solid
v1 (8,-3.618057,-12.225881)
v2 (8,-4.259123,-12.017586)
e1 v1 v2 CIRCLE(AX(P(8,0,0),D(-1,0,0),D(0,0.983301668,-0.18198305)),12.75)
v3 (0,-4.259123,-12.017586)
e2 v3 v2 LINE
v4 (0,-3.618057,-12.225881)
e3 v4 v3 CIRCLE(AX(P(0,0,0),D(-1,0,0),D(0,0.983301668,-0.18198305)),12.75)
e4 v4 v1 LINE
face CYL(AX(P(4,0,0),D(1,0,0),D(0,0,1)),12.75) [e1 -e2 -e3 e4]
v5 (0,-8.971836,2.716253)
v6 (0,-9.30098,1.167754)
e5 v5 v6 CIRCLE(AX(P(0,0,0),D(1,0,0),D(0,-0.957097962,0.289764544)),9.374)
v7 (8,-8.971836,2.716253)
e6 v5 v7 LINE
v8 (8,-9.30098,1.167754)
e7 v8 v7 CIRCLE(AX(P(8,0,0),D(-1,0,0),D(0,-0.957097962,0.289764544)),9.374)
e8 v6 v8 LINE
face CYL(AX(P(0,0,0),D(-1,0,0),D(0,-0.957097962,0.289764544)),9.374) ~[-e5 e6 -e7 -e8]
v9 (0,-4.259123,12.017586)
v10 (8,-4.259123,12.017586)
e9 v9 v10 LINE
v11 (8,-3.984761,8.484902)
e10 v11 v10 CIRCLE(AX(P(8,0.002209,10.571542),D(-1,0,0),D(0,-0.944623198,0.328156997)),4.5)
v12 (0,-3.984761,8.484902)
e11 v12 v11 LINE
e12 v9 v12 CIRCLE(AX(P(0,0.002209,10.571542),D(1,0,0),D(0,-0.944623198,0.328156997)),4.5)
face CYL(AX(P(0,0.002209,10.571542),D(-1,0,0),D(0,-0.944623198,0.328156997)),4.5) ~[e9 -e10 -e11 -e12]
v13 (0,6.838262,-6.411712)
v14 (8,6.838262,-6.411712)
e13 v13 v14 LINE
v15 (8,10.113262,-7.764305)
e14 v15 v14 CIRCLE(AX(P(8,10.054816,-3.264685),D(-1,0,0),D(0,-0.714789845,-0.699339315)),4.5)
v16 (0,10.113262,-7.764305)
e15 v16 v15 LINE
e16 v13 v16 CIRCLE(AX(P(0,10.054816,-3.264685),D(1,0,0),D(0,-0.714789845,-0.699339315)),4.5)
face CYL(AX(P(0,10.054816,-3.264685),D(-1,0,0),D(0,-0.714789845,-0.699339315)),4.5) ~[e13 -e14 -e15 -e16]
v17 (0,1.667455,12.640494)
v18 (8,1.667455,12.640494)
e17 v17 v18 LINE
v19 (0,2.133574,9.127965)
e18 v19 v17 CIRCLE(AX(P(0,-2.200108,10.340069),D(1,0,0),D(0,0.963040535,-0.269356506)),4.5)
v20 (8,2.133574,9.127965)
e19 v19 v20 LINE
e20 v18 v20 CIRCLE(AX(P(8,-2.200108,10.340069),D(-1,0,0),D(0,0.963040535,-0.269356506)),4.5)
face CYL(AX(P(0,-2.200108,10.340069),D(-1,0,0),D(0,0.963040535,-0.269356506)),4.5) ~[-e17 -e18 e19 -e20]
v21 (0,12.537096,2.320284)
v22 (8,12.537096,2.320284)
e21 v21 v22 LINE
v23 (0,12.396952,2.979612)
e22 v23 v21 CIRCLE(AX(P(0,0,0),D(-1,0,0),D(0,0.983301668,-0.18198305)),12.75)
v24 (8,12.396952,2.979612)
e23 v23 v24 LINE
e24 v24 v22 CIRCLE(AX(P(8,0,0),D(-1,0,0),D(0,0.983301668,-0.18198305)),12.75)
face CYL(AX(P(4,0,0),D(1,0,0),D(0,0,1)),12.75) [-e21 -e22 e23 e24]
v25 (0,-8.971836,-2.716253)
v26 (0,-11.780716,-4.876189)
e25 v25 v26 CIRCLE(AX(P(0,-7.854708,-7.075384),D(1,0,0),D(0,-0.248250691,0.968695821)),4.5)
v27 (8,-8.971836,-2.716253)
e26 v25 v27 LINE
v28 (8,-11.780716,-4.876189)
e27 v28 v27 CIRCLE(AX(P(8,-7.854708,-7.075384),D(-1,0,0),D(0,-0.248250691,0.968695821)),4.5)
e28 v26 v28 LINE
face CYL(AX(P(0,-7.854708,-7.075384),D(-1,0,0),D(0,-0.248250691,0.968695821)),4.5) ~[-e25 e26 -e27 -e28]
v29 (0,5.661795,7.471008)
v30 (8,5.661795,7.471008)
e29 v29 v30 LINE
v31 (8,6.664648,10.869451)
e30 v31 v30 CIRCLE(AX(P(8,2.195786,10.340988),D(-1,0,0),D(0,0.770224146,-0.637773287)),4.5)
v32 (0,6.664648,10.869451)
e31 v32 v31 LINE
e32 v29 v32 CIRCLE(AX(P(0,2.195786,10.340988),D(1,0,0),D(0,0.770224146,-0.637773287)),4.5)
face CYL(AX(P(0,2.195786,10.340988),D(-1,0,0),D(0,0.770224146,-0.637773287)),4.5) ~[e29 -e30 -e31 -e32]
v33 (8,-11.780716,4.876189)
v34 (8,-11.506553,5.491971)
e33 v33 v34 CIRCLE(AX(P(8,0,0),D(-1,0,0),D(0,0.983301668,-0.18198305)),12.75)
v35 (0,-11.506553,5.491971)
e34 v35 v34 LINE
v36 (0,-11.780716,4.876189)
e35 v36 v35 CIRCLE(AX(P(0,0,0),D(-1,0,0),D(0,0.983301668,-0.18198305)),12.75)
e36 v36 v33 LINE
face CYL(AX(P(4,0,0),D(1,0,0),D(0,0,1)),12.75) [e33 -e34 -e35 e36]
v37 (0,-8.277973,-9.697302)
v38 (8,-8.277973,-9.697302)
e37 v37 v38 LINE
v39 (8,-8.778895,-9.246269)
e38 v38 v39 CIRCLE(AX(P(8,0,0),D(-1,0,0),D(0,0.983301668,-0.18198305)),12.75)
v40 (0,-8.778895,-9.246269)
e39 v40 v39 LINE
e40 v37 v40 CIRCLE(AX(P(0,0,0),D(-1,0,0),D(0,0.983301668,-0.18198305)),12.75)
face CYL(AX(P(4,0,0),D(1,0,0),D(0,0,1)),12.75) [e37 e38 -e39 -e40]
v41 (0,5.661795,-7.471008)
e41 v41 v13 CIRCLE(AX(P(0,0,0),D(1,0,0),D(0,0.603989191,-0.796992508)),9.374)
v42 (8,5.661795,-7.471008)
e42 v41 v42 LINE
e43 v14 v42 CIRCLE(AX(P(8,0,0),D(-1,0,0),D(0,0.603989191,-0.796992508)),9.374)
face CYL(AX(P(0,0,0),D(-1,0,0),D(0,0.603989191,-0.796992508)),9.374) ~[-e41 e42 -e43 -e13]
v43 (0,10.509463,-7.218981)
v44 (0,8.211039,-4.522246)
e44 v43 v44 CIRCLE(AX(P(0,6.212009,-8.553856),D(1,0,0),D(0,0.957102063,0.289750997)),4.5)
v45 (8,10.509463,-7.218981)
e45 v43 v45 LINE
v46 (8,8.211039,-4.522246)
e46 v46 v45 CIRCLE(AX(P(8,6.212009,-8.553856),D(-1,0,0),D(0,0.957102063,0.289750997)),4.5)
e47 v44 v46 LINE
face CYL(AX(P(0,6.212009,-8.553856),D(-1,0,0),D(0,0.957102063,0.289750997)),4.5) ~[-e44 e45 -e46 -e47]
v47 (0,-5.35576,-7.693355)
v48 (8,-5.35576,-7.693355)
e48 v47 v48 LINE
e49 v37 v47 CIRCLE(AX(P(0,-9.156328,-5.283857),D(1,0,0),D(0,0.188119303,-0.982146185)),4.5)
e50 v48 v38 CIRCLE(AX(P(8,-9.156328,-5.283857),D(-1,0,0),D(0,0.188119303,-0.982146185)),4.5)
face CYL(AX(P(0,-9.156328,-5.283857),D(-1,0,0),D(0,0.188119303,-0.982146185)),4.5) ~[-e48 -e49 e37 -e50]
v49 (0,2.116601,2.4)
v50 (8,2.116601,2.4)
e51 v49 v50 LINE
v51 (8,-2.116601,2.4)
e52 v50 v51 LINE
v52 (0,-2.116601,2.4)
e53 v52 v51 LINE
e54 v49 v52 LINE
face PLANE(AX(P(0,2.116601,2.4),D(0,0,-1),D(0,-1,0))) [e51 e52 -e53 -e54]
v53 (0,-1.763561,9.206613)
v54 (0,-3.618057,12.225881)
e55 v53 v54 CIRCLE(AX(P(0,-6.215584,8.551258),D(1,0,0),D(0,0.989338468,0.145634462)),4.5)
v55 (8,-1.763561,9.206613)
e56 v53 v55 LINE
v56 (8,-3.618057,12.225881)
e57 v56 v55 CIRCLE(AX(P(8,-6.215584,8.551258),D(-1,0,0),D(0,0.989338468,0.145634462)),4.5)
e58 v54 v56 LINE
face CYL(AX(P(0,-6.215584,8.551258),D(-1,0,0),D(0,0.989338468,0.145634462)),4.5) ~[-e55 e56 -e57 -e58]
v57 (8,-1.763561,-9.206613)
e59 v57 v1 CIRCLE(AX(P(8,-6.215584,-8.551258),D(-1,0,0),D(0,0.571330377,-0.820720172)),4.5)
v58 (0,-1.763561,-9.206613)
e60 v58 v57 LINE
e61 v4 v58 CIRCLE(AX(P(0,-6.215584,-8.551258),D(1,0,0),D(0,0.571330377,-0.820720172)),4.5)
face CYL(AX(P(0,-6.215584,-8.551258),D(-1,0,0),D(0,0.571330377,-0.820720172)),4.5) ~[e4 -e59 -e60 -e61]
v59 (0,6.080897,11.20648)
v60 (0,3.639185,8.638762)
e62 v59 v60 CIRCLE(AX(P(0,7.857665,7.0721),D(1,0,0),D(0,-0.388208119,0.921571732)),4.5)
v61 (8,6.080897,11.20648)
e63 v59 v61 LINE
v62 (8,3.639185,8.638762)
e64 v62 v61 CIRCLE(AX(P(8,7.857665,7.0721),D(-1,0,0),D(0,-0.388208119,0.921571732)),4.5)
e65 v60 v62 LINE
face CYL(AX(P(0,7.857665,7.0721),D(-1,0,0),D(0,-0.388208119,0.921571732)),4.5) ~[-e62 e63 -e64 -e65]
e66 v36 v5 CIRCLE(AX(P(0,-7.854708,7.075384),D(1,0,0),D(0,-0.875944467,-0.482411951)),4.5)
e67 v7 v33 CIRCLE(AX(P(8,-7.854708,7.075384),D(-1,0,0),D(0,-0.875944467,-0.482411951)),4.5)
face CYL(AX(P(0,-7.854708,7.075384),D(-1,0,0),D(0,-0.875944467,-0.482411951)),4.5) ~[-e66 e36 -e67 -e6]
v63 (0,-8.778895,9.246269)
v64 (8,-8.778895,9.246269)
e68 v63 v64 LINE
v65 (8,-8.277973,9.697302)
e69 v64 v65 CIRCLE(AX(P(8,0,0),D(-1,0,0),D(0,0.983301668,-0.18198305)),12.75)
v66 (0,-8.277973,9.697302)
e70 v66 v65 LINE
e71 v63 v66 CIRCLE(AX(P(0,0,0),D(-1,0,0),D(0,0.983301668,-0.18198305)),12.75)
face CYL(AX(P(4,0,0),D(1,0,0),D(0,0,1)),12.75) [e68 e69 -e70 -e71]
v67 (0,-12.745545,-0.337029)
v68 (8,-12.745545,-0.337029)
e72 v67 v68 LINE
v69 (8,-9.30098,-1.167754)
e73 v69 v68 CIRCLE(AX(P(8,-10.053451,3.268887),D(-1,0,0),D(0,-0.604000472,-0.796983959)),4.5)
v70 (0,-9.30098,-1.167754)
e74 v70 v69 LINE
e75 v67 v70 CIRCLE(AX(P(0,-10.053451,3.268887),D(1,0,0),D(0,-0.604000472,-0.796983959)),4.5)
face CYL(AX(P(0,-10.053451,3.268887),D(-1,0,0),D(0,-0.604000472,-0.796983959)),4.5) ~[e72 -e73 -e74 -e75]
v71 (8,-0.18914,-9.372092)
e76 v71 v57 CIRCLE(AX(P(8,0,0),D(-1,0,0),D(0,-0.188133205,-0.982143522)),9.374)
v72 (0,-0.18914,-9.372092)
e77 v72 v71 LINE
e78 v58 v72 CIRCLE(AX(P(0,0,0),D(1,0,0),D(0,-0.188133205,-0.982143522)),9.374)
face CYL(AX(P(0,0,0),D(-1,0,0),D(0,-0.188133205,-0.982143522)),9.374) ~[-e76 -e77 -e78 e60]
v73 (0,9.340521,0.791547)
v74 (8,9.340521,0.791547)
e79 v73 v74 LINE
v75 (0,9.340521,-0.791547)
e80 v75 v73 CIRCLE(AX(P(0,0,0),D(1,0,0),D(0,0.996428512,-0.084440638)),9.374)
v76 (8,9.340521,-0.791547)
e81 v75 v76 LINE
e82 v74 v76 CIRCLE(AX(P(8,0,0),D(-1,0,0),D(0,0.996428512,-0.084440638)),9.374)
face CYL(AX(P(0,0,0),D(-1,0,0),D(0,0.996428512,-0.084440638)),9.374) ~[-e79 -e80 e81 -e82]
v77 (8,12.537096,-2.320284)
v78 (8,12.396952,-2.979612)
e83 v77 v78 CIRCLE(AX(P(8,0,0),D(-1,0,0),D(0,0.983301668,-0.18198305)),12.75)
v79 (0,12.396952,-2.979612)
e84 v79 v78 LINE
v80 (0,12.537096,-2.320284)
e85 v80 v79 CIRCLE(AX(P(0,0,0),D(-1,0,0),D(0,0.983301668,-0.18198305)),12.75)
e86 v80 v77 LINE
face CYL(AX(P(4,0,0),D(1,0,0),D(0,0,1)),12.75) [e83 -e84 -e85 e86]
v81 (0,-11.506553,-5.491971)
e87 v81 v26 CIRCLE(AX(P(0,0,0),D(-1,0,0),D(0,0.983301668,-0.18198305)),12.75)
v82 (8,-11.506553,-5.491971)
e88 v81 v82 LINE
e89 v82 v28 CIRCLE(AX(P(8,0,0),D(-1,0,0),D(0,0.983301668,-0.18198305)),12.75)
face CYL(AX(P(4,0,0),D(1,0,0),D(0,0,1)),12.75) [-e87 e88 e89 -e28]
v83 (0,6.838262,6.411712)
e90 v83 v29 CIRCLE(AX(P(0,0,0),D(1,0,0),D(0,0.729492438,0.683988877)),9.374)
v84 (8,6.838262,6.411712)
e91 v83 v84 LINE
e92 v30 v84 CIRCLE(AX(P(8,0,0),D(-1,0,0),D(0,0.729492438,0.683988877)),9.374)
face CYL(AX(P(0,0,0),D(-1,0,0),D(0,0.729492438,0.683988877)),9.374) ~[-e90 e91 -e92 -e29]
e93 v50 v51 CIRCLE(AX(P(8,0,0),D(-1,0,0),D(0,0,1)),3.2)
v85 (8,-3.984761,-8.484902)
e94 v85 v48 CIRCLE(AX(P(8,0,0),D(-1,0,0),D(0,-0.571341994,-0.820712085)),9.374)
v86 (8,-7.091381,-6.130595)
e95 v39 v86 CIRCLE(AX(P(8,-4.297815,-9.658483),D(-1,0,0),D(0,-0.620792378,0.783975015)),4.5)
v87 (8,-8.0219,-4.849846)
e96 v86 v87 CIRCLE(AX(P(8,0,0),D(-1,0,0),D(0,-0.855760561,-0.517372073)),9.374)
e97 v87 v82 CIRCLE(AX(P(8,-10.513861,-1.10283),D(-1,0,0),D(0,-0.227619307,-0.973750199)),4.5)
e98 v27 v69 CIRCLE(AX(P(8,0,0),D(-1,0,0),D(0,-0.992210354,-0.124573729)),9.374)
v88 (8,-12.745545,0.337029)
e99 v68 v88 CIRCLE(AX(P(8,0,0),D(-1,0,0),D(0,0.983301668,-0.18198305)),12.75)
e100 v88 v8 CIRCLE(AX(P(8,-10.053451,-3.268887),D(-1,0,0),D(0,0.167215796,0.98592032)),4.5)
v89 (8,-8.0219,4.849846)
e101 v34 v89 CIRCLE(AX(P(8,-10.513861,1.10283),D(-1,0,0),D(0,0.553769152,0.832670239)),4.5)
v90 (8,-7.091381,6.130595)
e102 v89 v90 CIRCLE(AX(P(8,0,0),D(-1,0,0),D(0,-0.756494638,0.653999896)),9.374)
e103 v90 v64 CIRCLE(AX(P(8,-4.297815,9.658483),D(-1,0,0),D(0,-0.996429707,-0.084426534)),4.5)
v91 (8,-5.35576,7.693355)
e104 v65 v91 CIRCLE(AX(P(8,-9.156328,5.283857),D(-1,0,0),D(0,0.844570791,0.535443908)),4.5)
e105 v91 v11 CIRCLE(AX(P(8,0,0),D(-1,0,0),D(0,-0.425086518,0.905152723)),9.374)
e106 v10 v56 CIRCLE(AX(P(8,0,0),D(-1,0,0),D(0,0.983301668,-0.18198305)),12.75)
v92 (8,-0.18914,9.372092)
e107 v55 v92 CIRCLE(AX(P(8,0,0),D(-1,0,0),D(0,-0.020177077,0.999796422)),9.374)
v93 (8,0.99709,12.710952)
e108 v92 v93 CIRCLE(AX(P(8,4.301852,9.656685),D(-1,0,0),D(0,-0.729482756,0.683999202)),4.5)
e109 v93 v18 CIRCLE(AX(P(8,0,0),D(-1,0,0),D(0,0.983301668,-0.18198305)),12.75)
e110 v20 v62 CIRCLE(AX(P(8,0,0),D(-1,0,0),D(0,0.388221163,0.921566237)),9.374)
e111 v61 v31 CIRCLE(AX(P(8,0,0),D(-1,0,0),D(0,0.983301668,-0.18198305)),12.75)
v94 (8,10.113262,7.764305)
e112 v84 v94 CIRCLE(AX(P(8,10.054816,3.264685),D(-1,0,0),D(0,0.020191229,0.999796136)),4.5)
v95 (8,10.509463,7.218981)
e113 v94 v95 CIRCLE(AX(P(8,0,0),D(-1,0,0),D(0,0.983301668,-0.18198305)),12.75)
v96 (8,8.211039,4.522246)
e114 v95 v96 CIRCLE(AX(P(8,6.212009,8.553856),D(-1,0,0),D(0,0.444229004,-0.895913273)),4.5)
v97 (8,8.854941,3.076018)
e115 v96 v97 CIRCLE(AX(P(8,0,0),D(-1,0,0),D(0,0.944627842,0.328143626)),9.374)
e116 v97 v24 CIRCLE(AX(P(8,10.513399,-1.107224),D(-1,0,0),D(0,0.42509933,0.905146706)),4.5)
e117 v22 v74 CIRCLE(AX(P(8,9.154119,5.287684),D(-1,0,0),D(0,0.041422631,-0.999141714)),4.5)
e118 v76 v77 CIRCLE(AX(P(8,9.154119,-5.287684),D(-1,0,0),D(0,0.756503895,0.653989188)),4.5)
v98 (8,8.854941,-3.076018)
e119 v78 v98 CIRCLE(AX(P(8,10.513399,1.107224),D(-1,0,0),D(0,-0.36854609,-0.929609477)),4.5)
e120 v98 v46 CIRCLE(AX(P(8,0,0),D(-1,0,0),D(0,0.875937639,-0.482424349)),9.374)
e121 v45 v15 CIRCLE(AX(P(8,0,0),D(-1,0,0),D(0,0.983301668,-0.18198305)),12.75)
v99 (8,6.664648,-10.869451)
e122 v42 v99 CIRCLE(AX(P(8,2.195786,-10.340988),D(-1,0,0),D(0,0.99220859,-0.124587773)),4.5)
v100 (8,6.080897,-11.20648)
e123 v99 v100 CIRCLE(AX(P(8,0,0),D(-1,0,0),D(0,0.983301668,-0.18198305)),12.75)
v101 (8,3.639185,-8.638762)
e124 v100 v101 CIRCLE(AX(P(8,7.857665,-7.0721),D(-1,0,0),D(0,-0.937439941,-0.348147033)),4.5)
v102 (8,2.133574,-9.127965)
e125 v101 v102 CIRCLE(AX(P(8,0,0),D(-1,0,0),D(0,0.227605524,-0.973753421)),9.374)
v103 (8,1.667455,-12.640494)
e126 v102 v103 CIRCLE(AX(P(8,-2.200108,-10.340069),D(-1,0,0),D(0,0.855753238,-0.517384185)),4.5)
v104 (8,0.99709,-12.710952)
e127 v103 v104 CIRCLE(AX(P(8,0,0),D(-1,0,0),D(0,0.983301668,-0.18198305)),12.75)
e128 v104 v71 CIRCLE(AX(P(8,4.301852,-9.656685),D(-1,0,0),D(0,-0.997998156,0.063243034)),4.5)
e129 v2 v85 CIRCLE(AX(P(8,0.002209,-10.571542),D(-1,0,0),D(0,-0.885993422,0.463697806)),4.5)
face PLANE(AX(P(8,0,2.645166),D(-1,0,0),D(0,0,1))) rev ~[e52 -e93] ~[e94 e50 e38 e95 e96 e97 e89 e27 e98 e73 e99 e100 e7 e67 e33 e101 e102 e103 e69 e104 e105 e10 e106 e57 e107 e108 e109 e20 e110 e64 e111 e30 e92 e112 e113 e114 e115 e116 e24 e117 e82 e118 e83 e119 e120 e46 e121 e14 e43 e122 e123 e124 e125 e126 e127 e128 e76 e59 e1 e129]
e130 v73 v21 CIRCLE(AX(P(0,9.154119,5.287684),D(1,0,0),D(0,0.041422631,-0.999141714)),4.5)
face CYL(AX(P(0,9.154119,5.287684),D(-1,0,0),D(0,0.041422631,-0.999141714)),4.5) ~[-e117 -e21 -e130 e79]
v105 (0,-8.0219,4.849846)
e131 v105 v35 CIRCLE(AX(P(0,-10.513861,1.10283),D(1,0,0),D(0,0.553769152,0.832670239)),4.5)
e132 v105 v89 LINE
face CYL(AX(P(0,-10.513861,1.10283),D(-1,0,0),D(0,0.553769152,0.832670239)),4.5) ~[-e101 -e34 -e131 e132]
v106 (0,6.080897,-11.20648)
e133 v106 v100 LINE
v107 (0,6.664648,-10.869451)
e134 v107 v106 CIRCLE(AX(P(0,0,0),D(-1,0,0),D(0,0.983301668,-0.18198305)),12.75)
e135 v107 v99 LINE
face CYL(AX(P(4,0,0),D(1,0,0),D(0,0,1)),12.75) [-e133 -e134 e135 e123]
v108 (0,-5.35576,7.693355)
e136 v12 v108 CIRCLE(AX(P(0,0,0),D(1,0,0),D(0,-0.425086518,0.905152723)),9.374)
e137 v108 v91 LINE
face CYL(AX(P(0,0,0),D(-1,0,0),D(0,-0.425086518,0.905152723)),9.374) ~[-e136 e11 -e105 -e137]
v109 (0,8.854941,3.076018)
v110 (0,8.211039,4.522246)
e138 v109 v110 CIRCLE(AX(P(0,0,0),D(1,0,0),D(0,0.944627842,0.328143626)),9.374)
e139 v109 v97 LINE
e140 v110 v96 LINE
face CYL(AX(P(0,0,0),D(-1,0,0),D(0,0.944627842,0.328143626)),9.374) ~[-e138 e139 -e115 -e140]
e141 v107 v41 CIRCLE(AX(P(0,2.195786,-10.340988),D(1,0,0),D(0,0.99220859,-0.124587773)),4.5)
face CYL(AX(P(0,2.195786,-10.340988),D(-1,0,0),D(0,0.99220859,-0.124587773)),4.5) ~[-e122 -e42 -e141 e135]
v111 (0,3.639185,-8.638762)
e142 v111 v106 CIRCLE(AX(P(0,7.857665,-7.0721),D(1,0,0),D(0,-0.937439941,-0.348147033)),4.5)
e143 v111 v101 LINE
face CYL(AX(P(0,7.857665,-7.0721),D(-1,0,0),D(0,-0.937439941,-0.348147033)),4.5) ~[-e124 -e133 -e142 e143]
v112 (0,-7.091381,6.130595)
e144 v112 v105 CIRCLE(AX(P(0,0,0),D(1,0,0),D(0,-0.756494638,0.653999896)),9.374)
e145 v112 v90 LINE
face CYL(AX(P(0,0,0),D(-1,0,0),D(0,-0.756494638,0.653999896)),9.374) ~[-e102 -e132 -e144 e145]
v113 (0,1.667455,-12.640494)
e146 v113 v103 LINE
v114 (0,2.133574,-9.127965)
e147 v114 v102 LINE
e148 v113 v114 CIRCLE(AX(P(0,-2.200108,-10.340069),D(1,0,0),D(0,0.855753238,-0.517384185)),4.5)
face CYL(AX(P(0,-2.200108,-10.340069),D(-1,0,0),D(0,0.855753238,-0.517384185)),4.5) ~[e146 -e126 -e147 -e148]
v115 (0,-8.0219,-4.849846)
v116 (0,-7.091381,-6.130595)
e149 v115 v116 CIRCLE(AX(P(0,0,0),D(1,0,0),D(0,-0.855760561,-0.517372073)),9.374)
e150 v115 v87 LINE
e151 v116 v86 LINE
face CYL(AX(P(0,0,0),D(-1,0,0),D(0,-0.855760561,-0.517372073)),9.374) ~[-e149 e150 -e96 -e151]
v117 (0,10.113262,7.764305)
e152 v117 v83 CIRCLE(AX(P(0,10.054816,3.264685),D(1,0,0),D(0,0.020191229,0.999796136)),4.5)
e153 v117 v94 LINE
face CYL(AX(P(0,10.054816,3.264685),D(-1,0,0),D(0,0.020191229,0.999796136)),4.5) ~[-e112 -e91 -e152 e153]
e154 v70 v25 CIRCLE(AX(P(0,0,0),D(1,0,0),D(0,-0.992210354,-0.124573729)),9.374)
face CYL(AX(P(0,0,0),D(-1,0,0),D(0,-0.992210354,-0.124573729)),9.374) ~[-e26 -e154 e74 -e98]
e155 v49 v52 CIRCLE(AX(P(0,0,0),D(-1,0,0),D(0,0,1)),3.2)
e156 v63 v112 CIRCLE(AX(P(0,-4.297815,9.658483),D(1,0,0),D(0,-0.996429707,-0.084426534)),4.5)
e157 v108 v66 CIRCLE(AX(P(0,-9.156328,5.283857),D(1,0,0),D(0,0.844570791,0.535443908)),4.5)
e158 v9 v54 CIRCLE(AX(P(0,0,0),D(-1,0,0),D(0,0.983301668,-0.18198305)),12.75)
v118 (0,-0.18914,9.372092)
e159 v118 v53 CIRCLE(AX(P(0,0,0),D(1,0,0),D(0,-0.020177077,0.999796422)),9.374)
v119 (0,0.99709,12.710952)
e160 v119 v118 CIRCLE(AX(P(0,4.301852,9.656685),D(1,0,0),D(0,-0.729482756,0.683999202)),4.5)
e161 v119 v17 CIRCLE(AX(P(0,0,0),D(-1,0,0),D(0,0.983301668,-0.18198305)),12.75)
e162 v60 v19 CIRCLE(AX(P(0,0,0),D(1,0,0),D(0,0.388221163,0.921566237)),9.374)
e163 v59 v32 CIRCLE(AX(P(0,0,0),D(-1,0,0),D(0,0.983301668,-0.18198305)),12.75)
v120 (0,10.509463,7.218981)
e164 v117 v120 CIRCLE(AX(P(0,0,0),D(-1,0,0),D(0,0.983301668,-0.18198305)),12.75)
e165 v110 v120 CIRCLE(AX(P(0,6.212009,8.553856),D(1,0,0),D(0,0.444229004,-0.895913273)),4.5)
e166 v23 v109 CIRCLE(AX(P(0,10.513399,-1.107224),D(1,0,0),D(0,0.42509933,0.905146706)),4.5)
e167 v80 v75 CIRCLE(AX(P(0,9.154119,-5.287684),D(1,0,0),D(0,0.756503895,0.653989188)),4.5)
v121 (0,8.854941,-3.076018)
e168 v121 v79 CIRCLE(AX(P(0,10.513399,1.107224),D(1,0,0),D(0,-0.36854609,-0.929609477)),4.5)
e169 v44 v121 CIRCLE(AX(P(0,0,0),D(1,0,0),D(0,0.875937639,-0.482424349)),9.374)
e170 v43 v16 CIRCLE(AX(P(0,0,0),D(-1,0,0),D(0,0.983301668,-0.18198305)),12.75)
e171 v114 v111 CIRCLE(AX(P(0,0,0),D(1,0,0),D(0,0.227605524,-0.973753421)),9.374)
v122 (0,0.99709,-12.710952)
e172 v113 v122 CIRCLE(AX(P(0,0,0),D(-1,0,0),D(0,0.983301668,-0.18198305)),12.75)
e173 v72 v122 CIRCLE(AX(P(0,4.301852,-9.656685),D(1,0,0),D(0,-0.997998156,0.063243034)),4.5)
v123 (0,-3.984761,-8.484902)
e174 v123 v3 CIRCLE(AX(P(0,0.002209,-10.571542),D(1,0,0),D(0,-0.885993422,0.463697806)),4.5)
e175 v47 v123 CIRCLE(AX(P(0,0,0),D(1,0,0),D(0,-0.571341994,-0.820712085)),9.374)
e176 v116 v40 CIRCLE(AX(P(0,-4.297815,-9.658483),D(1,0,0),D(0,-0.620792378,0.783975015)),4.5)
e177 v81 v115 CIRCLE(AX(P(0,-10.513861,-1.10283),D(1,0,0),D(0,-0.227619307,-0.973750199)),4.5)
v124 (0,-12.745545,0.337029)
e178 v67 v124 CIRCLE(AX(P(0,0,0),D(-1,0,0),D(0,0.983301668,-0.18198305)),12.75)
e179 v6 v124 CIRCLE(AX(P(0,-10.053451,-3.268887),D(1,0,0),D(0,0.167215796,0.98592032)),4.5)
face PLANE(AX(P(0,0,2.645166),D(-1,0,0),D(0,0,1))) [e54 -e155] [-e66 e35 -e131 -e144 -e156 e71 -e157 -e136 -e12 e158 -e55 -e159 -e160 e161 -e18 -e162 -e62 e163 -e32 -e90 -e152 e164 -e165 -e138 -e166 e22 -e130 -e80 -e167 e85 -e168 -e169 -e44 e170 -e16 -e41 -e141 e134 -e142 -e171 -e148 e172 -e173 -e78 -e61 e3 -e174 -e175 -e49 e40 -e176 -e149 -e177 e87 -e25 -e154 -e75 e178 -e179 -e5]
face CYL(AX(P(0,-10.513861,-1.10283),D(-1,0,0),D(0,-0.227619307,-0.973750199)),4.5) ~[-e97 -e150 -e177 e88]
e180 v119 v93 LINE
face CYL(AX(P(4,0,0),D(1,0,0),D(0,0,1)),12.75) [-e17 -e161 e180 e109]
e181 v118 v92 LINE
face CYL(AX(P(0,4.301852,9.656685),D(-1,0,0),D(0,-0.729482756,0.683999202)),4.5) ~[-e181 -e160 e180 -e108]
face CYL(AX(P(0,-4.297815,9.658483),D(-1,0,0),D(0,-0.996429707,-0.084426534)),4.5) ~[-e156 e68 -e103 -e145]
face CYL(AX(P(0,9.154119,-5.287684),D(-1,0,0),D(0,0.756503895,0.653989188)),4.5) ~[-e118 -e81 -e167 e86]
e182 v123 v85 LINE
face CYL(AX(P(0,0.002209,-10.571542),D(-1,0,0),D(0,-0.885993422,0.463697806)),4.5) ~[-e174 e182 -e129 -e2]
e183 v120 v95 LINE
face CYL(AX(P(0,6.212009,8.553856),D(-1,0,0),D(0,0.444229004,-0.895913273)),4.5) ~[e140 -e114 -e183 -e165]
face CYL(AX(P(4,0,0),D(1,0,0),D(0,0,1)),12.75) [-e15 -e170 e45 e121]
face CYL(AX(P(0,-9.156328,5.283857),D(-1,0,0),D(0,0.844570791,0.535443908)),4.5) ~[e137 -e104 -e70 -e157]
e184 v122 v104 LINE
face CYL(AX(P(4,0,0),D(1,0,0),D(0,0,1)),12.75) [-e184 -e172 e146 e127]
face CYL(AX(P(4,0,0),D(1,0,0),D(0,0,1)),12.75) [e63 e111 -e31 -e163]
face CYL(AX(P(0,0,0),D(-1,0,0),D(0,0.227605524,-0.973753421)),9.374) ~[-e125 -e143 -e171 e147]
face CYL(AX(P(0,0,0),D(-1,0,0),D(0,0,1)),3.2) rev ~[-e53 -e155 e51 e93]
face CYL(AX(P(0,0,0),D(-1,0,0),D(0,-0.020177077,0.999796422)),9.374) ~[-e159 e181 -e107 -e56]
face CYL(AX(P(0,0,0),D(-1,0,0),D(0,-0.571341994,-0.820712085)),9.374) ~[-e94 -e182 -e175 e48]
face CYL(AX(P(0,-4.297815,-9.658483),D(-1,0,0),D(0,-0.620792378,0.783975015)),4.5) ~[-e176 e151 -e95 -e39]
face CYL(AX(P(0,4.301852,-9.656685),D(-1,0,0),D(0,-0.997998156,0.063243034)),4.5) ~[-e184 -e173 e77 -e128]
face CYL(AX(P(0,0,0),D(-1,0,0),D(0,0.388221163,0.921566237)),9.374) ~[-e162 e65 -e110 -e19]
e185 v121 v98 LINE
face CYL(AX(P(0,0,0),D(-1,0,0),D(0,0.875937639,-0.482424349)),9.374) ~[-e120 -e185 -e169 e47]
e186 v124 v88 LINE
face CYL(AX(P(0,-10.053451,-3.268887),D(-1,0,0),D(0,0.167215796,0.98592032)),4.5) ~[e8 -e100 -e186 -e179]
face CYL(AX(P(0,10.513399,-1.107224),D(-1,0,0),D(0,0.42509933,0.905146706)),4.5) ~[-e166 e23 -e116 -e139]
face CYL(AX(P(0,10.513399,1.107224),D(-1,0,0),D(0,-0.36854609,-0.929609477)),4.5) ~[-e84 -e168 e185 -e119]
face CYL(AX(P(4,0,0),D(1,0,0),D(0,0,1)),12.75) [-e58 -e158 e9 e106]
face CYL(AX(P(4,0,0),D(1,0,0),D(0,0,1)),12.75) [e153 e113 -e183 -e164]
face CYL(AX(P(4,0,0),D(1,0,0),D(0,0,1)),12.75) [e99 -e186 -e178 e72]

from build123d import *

# Parameters (mm, degrees)
BASPROSKE_W         = 8
BASPROSKE_H         = 12.75
TOOTHCUT_DEPTH      = 20.726251545
TEETHCUTS_COUNT     = 15
TEETHCUTS_ANGLE     = 336
BORSKE_R            = 3
BORE_DEPTH          = 50.0000508
SKETCH2_R           = 3.2
CUT_EXTRUDE1_DEPTH  = 20.701035813
BOSS_EXTRUDE1_DEPTH = 8


with BuildPart() as part:
    # BasProSke → Base-Revolve (revolve)
    with BuildSketch(Plane(origin=(0, 0, 0), x_dir=(1, 0, 0), z_dir=(0, 1, 0)), mode=Mode.PRIVATE) as base_revolve_sk:
        with Locations((4, 6.375)):
            Rectangle(BASPROSKE_W, BASPROSKE_H)
    revolve(base_revolve_sk.sketch.rotate(Axis((-10, 0, 0), (1, 0, 0)), 180), axis=Axis((-10, 0, 0), (1, 0, 0)))

    # TooCutSke → ToothCut (cut, through all)
    with BuildSketch(Plane(origin=(0, 0, 0), x_dir=(0, 0, -1), z_dir=(1, 0, 0))):
        with BuildLine():
            ThreePointArc((0.791546546, 9.340520867), (0, 9.374), (-0.791546546, 9.340520867))
            ThreePointArc((-0.791546546, 9.340520867), (-1.235070734, 11.110218102), (-2.344732916, 12.558386549))
            ThreePointArc((-2.344732916, 12.558386549), (0, 12.7754), (2.344732916, 12.558386549))
            ThreePointArc((2.344732916, 12.558386549), (1.235070734, 11.110218102), (0.791546546, 9.340520867))
        make_face()
    toothcut = extrude(amount=TOOTHCUT_DEPTH, mode=Mode.SUBTRACT)

    # TeethCuts: ToothCut ×15 about axis
    teethcuts_axis = Axis((-10, 0, 0), (1, 0, 0))
    for i in range(1, TEETHCUTS_COUNT):
        add(toothcut.rotate(teethcuts_axis, i * TEETHCUTS_ANGLE / (TEETHCUTS_COUNT - 1)), mode=Mode.SUBTRACT)

    # BorSke → Bore (cut, symmetric)
    with BuildSketch(Plane(origin=(0, 0, 0), x_dir=(0, 0, -1), z_dir=(1, 0, 0))):
        with Locations(Location((0, 0, 0), (0, 0, 180))):
            Circle(BORSKE_R)
    extrude(amount=BORE_DEPTH, both=True, mode=Mode.SUBTRACT)

    # Sketch2 → Cut-Extrude1 (cut, through all)
    with BuildSketch(Plane.ZY):
        Circle(SKETCH2_R)
    extrude(amount=-CUT_EXTRUDE1_DEPTH, mode=Mode.SUBTRACT)

    # Sketch3 → Boss-Extrude1 (add)
    with BuildSketch(Plane.ZY):
        with BuildLine():
            Line((2.4, 2.116601049), (2.4, -2.116601049))
            ThreePointArc((2.4, -2.116601049), (3.2, 0), (2.4, 2.116601049))
        make_face()
    extrude(amount=-BOSS_EXTRUDE1_DEPTH)


solid = part.part
